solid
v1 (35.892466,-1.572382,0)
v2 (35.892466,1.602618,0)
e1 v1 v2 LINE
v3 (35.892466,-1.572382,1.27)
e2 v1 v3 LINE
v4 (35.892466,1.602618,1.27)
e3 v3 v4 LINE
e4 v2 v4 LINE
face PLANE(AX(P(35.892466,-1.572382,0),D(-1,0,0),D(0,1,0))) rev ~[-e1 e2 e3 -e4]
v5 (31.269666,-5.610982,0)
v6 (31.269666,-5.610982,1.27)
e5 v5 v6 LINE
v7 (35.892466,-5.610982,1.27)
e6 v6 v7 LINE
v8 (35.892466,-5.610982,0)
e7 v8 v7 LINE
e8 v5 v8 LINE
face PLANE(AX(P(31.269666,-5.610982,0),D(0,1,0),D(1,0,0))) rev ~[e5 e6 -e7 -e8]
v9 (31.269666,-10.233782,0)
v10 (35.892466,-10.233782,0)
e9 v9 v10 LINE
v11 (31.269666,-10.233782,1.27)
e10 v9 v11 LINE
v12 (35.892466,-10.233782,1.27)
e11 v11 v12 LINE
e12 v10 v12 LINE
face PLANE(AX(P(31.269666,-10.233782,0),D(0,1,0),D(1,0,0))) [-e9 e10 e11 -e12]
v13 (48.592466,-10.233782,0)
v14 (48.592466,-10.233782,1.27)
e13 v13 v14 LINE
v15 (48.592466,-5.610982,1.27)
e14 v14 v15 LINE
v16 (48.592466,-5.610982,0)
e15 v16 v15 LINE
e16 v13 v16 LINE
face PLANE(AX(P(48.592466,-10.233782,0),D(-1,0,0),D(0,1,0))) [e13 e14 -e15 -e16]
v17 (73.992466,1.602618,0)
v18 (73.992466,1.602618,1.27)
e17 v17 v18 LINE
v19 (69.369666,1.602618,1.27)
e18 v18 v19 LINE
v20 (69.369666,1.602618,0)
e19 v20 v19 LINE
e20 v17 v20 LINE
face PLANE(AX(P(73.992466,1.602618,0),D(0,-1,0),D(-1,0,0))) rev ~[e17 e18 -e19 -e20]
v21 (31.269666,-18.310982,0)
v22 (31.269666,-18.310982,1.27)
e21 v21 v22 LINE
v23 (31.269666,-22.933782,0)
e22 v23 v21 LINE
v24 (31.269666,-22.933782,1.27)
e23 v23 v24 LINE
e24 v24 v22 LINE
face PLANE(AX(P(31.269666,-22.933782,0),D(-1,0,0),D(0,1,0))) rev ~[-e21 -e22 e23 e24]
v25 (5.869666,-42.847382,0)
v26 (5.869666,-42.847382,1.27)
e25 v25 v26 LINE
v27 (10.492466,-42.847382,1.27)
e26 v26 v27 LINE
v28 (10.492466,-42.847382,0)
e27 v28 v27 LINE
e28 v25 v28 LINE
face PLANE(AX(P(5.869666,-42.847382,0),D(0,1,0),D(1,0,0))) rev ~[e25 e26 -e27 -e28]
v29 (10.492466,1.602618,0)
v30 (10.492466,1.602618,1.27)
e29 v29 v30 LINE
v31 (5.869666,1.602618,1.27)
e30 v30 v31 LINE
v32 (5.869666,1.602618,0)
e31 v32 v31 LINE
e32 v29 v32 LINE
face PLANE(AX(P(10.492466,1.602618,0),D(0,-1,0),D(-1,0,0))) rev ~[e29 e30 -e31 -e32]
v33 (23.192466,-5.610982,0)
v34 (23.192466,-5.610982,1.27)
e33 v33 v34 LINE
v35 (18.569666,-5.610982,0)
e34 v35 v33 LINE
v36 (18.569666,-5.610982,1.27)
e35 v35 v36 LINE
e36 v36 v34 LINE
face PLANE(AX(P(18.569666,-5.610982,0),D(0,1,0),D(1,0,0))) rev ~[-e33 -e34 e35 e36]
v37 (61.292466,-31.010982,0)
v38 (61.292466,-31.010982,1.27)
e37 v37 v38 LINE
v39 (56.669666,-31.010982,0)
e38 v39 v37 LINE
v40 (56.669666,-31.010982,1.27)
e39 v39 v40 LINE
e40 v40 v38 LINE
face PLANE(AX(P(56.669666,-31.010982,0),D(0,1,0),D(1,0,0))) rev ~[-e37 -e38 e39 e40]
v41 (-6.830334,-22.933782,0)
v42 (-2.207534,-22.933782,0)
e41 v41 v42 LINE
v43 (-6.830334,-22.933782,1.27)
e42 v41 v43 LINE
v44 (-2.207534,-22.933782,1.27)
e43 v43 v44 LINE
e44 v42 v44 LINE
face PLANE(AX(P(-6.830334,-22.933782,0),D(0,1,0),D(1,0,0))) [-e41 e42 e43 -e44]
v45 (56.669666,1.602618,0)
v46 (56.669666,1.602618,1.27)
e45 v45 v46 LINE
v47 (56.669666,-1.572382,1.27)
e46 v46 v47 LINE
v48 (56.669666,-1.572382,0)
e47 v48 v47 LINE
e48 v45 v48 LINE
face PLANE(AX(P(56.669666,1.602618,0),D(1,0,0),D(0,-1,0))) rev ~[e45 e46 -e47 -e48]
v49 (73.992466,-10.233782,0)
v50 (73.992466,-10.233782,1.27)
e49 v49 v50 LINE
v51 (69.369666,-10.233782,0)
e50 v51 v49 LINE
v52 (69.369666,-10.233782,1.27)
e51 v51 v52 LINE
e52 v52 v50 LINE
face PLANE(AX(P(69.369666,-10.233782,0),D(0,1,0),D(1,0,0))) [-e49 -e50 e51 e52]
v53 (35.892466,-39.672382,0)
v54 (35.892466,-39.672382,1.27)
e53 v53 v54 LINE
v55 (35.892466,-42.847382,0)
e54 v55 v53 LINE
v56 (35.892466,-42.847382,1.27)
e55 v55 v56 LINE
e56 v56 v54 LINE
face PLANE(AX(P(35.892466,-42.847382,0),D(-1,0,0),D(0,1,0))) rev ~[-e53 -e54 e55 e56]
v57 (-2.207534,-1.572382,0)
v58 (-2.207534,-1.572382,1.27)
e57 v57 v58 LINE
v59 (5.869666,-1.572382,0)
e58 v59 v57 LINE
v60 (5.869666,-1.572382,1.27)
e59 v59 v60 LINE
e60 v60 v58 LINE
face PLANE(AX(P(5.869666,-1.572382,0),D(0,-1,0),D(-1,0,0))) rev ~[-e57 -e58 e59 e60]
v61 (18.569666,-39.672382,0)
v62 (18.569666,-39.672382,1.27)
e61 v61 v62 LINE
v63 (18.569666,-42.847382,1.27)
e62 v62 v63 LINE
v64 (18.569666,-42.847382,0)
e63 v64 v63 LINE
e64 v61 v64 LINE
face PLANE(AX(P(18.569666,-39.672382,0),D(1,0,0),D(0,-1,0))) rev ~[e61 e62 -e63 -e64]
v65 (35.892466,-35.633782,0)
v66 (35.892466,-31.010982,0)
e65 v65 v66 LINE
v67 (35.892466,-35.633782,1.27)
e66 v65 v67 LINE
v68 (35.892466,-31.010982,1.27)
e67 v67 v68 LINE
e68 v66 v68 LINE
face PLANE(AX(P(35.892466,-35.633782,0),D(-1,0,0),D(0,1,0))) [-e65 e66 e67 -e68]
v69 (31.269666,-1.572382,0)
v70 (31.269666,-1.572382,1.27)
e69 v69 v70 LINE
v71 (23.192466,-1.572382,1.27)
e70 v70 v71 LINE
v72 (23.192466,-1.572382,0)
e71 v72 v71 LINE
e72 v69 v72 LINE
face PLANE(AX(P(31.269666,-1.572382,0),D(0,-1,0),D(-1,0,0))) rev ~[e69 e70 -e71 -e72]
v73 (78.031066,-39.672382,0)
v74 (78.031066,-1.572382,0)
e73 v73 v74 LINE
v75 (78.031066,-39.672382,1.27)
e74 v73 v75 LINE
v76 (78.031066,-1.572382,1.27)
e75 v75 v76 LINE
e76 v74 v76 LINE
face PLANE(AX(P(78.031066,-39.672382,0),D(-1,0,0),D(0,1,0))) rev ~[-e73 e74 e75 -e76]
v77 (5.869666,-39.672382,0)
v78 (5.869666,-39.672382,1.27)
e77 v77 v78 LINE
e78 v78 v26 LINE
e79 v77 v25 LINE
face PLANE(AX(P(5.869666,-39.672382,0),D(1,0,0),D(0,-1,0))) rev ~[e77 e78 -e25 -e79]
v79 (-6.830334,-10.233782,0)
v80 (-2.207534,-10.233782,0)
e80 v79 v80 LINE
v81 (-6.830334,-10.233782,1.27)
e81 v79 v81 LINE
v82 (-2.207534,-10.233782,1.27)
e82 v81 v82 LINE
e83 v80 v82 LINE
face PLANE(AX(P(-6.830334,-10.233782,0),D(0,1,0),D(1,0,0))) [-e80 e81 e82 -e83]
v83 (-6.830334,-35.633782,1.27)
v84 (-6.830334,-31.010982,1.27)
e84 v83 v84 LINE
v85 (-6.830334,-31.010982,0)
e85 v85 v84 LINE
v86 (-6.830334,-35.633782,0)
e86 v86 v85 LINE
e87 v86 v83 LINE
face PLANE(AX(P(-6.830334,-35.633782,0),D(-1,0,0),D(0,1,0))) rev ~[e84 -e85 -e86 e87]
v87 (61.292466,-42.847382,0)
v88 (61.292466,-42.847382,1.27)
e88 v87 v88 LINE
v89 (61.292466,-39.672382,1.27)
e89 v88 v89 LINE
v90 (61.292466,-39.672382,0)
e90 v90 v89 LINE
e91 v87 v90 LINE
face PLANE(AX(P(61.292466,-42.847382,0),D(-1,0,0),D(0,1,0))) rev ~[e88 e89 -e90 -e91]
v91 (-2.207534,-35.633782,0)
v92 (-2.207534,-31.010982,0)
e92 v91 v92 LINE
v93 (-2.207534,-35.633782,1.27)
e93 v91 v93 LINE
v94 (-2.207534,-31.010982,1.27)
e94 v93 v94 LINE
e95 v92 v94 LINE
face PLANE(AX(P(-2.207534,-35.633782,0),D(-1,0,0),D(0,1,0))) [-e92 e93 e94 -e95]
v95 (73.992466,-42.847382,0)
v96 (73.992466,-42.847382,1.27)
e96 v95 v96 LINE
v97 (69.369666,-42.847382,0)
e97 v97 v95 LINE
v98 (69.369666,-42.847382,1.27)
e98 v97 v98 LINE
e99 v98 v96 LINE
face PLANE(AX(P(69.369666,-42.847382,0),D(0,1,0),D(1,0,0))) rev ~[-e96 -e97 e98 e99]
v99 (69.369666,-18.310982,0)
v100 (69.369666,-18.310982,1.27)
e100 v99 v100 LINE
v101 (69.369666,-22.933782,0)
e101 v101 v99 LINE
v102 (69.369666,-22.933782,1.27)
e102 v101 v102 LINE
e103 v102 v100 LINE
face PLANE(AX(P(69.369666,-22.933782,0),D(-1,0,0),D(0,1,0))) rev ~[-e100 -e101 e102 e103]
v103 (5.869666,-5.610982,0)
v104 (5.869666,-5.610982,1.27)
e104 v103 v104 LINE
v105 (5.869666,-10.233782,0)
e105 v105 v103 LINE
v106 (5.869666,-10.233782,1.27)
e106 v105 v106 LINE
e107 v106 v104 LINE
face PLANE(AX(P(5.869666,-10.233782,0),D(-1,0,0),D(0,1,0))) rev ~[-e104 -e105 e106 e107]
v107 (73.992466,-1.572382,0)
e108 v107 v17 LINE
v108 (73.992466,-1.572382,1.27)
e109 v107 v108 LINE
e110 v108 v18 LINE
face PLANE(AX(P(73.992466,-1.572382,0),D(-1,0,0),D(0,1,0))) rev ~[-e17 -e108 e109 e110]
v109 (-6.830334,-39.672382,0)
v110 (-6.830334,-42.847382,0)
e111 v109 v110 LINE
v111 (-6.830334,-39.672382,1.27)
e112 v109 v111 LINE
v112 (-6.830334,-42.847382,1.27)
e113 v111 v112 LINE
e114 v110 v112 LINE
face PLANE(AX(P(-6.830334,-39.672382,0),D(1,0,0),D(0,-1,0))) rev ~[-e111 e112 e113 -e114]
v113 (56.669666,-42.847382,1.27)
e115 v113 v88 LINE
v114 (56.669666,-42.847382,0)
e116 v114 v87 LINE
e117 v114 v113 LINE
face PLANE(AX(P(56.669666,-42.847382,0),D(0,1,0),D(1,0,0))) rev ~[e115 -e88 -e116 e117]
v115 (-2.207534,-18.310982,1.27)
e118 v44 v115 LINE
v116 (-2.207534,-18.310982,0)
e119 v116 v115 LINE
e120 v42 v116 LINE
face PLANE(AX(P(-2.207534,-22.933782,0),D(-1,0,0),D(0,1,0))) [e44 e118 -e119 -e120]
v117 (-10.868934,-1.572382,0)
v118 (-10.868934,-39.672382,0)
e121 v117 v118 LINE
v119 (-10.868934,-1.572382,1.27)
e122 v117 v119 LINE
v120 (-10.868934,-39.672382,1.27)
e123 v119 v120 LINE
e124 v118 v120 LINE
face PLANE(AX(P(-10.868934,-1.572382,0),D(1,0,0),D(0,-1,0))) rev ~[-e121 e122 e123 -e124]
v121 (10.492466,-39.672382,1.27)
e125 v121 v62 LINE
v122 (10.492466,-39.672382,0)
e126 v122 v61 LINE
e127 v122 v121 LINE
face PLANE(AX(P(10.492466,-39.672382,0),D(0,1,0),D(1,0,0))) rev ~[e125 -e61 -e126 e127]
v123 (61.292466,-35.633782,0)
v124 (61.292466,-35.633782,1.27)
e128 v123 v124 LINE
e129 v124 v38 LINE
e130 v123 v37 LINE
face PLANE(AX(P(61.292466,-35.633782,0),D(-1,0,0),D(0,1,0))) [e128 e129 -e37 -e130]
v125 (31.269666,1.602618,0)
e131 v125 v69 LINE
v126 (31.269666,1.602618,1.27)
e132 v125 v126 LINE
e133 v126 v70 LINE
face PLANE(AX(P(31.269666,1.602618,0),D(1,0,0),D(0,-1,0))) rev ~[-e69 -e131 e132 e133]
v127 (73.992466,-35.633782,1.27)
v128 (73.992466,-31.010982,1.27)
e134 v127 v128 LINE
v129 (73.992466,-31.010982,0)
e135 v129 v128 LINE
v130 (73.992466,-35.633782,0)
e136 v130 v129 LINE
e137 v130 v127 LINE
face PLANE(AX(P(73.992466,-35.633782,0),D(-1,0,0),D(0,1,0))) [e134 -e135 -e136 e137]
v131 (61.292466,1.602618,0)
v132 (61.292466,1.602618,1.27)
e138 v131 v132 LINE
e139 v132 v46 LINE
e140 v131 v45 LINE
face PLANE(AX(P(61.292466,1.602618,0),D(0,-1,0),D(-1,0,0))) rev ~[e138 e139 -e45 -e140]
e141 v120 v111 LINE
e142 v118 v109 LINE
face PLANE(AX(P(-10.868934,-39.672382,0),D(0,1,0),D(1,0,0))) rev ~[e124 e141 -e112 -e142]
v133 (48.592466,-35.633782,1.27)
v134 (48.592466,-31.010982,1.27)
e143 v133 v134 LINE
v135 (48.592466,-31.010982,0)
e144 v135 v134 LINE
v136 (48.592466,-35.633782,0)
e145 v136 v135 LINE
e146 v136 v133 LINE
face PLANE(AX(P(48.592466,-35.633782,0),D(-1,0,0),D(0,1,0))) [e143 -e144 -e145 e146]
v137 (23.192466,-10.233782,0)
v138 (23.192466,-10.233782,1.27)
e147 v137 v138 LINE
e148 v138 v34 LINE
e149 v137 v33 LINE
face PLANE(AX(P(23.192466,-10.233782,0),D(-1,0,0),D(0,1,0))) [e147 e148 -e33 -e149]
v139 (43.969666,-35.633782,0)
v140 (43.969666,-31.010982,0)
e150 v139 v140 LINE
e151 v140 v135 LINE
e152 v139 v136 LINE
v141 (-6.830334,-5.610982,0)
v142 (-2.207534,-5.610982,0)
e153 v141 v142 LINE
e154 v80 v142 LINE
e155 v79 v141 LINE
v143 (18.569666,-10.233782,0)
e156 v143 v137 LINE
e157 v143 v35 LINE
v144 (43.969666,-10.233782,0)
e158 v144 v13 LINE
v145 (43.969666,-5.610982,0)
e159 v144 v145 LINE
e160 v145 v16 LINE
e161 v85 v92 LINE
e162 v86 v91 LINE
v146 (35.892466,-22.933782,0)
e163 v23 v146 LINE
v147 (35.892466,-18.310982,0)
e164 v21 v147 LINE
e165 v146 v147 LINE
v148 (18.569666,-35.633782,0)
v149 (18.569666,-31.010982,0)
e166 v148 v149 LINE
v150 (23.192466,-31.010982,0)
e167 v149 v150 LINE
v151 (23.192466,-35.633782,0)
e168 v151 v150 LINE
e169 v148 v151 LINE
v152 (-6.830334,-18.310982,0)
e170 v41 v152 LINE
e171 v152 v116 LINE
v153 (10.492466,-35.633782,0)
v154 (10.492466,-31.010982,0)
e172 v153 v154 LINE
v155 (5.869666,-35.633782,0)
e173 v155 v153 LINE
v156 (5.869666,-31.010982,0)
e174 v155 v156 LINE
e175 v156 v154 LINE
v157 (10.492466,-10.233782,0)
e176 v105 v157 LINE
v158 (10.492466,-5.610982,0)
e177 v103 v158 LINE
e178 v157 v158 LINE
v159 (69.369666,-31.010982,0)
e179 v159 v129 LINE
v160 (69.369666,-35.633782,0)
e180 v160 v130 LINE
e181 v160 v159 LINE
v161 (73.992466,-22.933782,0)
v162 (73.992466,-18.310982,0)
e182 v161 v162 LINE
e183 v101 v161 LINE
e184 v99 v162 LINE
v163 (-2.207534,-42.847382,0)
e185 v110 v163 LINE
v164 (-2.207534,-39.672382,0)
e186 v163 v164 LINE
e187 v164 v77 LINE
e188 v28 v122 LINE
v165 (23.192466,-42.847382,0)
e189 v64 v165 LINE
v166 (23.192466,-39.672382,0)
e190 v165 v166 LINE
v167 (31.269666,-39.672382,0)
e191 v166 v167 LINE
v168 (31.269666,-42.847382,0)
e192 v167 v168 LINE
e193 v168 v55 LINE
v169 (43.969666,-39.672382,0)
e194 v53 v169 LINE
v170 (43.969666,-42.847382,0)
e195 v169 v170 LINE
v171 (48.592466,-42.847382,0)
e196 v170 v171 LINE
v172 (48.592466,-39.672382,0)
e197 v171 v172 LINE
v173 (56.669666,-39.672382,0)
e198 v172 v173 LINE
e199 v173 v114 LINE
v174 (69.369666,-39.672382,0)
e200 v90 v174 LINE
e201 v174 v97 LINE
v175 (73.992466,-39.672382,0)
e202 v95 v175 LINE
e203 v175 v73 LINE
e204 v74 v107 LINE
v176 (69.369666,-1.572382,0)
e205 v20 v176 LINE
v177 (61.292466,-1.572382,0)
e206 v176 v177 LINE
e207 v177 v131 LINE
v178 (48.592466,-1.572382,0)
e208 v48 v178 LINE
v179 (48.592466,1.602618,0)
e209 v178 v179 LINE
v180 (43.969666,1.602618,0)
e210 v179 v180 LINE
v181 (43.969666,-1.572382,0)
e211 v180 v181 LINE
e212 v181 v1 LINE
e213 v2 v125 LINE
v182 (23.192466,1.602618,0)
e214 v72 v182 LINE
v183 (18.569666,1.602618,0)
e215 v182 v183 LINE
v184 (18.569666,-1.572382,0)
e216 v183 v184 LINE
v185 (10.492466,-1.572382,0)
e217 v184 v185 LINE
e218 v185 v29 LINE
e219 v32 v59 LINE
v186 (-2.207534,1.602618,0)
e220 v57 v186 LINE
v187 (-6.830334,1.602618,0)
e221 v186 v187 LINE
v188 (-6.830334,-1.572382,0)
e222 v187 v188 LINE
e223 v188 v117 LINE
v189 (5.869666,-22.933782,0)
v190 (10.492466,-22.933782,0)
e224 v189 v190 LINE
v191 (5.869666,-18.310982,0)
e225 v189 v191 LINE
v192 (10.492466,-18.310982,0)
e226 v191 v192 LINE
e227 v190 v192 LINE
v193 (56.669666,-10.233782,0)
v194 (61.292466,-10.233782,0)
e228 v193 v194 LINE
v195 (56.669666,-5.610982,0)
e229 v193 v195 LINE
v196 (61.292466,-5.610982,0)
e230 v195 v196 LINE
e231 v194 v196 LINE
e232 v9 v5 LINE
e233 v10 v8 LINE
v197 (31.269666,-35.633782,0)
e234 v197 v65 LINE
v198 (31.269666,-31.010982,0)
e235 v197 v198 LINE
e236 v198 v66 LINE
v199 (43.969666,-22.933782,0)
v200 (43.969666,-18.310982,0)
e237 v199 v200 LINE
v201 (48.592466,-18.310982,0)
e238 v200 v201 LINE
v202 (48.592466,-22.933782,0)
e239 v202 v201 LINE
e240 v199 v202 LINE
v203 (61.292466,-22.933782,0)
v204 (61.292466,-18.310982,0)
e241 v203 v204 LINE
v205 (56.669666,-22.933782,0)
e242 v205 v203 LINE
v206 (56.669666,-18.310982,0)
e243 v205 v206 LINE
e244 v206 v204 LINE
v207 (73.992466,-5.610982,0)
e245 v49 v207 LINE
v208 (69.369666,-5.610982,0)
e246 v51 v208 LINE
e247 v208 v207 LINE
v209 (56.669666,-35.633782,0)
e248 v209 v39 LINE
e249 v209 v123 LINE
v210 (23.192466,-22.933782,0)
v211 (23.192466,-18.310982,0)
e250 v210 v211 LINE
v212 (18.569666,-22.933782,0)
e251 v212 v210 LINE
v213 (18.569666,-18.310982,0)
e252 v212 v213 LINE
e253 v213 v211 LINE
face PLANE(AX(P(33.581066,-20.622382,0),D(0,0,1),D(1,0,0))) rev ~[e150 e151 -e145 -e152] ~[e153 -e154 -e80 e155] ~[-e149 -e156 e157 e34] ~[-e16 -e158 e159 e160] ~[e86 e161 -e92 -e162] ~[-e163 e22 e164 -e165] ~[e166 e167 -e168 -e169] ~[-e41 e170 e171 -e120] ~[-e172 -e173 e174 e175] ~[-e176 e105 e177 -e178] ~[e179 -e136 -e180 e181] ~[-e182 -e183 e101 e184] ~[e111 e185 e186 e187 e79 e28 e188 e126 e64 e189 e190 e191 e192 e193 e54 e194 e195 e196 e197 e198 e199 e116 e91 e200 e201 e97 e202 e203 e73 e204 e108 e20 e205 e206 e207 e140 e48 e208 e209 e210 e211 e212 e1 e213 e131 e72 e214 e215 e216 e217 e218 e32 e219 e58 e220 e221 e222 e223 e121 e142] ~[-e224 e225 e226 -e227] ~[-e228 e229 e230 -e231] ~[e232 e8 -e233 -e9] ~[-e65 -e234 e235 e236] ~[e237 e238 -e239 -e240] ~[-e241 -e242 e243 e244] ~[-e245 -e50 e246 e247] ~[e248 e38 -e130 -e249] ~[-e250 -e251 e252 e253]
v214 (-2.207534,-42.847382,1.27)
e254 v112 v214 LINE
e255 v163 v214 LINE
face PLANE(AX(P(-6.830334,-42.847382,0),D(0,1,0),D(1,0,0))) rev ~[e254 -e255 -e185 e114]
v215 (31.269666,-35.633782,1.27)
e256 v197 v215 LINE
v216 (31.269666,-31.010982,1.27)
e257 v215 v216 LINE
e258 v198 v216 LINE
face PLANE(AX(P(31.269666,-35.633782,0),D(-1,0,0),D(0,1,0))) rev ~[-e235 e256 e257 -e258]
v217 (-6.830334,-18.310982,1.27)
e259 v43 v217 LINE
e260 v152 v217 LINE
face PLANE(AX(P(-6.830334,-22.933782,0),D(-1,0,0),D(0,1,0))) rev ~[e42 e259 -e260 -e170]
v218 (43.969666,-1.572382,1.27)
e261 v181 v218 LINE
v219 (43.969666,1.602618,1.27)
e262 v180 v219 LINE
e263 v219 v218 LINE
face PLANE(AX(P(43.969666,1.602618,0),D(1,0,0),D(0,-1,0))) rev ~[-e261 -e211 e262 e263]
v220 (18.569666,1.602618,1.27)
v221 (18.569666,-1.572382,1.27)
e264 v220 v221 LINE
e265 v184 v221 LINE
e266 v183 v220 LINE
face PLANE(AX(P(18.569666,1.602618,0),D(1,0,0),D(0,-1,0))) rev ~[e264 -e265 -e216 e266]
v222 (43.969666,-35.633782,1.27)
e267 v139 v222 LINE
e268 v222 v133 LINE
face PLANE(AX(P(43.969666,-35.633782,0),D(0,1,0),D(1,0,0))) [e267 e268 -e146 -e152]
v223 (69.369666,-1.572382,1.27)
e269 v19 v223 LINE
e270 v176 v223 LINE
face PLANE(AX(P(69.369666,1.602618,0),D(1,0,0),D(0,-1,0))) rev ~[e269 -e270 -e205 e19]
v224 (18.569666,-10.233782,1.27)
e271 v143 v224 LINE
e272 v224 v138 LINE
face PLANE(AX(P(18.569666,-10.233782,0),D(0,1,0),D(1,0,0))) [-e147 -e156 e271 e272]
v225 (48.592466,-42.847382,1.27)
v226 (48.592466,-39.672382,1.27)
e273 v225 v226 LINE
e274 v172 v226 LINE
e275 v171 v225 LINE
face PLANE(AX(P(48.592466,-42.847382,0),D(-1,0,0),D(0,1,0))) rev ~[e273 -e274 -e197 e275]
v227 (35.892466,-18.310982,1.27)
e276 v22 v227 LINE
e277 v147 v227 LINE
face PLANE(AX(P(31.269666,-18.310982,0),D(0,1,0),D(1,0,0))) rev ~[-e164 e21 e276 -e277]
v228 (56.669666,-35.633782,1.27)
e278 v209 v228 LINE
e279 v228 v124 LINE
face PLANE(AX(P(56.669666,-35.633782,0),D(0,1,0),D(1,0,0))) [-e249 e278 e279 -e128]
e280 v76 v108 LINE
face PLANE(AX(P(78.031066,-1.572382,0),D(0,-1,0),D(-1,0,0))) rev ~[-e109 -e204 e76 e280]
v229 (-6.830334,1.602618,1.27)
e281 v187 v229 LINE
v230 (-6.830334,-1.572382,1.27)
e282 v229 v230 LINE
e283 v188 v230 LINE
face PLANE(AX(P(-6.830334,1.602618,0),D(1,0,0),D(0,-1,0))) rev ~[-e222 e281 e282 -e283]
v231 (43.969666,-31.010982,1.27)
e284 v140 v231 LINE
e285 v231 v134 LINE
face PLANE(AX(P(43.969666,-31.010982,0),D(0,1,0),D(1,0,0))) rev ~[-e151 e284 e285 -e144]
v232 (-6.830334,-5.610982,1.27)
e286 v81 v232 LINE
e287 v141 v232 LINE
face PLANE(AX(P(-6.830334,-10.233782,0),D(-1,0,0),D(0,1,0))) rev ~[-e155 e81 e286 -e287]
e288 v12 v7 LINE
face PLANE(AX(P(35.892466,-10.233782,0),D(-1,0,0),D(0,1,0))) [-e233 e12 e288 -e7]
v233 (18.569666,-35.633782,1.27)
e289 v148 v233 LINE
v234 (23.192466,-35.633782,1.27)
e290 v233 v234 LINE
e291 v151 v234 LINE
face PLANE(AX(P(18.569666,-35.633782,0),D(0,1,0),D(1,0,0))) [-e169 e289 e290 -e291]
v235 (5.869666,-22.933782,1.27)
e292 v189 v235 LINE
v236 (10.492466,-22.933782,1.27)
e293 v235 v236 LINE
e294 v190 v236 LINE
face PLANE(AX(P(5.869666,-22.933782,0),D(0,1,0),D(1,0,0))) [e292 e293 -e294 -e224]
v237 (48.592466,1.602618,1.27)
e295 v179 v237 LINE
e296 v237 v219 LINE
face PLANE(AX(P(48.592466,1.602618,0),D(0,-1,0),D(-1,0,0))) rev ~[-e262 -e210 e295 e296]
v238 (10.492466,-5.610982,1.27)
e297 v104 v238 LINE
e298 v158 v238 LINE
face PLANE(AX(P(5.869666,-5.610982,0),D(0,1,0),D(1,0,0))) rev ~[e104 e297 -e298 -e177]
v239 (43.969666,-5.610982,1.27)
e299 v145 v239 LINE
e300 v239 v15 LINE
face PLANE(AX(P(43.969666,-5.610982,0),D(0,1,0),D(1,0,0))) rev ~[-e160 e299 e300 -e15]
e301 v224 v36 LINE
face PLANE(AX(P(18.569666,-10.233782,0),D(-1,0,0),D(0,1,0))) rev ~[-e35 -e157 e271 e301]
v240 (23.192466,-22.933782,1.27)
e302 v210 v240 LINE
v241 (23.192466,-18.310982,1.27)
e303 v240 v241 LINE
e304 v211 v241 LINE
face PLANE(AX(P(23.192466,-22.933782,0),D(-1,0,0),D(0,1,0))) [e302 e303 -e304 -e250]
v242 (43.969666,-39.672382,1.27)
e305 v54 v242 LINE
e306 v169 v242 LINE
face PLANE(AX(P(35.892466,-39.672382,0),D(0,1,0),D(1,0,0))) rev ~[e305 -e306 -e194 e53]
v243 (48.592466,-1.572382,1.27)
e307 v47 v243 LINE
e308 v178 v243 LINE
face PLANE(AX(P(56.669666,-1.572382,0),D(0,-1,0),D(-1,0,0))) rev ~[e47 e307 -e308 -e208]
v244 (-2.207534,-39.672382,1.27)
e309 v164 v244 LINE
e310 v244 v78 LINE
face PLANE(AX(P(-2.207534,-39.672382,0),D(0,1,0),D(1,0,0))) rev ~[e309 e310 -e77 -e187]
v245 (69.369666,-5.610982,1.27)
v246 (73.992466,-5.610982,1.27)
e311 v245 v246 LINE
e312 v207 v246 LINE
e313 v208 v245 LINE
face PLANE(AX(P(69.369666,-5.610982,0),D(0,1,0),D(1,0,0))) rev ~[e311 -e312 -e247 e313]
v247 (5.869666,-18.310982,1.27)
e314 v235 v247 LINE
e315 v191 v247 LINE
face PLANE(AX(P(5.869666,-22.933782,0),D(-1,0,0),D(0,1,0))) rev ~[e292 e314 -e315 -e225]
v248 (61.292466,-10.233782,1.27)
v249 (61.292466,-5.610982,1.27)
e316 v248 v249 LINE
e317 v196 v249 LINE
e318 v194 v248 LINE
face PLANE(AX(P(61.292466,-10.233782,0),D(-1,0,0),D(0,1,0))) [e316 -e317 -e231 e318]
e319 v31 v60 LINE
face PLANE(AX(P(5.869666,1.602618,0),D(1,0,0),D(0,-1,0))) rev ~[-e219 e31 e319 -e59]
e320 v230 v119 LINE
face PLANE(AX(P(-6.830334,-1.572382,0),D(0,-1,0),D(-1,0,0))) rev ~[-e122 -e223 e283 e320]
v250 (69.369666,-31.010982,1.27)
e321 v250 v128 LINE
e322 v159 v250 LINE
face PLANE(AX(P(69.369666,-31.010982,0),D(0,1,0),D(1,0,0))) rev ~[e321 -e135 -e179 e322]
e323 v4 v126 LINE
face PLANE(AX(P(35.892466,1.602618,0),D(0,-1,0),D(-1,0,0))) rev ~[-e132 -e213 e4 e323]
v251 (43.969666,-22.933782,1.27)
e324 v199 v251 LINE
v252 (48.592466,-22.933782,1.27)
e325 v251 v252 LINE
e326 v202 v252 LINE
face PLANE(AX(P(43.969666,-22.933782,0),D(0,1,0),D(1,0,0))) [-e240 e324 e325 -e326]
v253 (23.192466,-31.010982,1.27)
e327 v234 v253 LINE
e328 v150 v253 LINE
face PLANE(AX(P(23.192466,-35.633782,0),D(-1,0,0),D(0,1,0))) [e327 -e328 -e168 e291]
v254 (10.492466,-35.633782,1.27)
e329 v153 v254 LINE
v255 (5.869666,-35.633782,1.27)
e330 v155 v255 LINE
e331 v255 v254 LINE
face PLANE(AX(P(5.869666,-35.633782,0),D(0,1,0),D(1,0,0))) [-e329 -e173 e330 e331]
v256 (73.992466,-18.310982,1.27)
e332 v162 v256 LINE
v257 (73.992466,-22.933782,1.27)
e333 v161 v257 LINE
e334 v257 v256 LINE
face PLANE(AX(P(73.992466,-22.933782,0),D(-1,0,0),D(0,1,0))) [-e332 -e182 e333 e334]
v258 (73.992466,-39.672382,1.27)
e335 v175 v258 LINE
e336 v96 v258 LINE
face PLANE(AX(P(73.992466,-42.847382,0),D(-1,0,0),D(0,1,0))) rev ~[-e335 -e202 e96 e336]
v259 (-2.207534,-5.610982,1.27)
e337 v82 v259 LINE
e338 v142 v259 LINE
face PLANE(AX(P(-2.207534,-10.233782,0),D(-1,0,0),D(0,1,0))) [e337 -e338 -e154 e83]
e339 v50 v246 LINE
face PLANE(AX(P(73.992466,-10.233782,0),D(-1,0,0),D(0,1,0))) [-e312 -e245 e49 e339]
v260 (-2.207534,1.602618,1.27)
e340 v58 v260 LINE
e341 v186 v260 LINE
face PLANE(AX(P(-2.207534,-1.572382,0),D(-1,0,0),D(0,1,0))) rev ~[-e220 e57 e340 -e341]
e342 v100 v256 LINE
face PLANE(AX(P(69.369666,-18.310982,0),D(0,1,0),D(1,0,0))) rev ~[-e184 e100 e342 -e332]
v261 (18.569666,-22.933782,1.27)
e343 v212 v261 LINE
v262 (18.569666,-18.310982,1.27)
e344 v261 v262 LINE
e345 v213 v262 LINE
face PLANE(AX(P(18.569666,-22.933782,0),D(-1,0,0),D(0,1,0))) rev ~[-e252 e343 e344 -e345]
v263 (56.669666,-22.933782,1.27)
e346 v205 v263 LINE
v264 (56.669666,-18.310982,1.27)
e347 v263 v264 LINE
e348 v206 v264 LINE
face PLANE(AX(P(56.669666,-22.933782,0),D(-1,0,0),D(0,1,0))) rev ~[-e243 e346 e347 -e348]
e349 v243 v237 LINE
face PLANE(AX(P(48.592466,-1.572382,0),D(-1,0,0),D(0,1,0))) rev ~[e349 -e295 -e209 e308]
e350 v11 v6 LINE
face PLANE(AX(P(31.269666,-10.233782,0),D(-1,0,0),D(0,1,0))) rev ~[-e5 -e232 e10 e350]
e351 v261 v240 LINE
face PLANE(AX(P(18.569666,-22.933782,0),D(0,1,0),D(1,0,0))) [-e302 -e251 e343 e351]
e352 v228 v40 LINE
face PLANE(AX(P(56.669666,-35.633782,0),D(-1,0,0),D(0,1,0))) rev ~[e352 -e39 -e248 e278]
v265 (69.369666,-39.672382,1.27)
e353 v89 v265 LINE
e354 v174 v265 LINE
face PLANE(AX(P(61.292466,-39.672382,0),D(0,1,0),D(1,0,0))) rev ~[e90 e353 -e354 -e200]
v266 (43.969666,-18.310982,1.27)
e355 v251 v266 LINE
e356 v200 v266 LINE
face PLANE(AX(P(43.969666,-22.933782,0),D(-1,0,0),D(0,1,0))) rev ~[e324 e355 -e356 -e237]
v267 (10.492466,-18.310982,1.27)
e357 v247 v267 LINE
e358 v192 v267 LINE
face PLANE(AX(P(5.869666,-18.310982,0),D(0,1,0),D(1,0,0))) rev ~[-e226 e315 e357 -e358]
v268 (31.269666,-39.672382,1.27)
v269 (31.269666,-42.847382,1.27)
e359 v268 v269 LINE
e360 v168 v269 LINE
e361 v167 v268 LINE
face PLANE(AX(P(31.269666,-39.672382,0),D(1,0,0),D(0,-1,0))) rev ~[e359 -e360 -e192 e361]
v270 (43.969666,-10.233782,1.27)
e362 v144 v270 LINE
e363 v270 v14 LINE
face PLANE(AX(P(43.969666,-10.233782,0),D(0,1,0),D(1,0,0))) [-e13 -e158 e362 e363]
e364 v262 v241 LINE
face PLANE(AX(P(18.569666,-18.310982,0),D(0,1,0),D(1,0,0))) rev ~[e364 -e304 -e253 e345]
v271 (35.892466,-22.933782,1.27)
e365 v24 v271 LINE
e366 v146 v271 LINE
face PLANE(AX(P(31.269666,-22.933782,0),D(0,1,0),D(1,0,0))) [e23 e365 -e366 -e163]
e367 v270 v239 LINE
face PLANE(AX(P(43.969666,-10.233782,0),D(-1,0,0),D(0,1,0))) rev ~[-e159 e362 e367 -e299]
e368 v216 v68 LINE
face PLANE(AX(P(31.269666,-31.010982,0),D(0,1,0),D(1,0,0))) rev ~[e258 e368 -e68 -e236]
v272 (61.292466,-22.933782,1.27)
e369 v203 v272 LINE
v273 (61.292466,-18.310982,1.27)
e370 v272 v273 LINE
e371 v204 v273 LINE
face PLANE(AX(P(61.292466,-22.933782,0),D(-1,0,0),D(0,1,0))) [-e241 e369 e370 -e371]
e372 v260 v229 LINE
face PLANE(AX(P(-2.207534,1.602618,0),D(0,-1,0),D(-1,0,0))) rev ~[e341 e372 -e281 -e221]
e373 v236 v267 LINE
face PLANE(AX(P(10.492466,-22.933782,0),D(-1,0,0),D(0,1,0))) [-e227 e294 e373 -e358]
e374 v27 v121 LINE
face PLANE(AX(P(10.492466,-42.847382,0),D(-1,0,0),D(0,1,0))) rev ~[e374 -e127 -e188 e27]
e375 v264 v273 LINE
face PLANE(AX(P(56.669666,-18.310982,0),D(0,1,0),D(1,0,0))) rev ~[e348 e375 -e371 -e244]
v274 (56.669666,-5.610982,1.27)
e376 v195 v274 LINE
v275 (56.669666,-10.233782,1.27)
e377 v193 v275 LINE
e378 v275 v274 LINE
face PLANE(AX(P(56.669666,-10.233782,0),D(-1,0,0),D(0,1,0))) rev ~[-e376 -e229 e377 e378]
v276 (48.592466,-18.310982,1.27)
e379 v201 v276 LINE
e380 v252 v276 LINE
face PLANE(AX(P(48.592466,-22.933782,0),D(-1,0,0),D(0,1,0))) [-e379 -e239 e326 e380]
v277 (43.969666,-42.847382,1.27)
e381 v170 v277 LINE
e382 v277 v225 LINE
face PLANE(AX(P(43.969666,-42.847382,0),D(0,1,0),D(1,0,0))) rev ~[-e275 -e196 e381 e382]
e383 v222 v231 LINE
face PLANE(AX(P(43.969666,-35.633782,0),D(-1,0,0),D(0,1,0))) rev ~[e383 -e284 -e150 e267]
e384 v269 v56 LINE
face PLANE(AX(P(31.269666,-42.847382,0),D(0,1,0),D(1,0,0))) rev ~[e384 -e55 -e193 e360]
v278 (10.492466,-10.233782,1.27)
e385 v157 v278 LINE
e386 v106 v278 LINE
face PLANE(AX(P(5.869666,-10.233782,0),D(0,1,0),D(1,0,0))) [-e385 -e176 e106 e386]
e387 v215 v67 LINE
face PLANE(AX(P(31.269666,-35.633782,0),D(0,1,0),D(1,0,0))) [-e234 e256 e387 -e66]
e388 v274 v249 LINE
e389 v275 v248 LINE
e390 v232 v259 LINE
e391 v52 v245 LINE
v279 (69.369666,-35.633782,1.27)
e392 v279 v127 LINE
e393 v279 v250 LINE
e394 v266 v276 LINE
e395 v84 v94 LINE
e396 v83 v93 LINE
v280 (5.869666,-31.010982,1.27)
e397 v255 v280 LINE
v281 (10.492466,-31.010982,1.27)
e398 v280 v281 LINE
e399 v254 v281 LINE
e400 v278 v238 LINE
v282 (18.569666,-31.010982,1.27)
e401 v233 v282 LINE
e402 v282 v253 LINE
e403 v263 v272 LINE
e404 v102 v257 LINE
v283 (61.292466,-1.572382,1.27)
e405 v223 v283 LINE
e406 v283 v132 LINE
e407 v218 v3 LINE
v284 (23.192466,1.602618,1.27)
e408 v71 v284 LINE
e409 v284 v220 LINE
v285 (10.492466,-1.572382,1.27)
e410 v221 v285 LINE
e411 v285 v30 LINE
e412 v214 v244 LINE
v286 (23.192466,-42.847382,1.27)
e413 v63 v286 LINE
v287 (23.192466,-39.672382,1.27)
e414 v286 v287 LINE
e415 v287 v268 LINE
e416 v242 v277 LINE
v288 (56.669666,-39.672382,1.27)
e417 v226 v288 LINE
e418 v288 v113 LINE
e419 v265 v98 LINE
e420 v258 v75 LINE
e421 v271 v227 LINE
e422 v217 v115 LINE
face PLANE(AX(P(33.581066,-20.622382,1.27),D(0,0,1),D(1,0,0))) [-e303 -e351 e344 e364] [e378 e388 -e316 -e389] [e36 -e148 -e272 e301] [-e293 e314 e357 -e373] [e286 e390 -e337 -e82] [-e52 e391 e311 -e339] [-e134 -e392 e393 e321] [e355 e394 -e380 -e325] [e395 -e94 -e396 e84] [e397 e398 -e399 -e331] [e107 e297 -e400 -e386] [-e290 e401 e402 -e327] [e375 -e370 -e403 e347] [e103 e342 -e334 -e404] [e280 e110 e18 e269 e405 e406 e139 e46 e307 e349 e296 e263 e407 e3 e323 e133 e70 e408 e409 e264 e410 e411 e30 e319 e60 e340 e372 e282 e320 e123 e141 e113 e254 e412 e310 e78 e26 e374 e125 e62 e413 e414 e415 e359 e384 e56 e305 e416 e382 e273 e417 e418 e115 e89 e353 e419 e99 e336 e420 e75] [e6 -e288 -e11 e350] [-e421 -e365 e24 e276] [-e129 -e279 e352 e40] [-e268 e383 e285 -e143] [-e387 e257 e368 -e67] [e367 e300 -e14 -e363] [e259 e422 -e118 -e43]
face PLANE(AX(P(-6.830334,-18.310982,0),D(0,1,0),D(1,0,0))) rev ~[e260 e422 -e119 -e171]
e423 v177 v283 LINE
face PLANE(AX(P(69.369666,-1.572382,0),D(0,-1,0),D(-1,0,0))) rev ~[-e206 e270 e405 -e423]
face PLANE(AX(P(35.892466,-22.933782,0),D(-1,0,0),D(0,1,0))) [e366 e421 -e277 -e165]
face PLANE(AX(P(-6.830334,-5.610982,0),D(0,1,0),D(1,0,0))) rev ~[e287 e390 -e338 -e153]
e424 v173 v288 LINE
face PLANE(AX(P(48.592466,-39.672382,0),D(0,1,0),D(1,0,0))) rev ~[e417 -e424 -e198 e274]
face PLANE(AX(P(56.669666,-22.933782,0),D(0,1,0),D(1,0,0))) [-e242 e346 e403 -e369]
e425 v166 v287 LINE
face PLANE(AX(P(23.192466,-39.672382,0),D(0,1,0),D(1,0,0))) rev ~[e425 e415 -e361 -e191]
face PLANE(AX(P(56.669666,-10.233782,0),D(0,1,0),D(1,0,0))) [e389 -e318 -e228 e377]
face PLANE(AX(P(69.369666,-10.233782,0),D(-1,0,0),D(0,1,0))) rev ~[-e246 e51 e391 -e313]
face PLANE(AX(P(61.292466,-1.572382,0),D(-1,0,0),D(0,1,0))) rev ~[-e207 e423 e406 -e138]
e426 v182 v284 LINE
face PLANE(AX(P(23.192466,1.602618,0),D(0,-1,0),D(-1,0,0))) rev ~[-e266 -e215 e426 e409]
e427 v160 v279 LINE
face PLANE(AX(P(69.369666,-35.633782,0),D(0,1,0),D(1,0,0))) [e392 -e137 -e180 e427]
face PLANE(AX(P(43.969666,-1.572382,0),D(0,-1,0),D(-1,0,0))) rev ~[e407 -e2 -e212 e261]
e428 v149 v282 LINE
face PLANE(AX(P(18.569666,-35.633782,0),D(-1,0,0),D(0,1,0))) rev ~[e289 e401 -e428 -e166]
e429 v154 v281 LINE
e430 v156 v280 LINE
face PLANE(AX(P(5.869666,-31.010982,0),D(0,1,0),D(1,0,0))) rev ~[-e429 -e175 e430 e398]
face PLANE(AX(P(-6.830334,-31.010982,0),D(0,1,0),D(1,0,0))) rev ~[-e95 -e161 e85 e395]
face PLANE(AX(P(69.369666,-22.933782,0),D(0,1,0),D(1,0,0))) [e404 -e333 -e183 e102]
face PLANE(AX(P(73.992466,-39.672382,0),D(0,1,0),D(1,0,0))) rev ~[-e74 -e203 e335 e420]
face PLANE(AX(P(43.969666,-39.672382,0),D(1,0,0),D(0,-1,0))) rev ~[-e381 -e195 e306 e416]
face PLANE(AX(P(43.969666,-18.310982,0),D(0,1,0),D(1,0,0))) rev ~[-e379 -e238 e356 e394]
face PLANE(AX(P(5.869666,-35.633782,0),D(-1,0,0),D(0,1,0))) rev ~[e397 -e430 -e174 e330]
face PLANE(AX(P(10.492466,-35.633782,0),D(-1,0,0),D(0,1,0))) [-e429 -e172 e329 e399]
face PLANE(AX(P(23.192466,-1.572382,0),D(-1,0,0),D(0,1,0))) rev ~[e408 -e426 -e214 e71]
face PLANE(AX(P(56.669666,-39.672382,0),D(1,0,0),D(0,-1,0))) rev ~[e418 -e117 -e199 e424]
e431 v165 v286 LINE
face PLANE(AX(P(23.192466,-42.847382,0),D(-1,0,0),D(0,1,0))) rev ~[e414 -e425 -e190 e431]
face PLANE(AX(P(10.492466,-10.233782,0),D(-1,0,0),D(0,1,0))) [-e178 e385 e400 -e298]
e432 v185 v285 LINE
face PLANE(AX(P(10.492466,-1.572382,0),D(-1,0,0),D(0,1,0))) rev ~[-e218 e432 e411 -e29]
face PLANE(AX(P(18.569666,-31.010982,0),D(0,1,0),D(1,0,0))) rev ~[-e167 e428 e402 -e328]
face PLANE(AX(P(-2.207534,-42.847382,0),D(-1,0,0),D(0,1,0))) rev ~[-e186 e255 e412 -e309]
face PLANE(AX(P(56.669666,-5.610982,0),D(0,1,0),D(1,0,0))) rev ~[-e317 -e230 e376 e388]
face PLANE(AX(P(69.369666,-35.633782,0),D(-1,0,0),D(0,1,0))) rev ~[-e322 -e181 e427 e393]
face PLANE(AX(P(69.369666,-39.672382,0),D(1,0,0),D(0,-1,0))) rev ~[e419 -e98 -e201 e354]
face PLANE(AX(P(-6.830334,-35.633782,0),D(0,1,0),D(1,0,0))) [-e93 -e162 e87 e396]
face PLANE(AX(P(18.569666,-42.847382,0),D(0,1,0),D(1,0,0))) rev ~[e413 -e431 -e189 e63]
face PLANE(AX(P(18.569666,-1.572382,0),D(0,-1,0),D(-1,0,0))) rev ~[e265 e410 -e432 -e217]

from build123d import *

# Parameters (mm, degrees)
F0_W     = 4.6228
F0_H     = 4.6228
F1_DEPTH = 1.27


with BuildPart() as f1:
    # F0 (on Top) → F1 (new body)
    with BuildSketch(Plane.XY):
        Polygon((78.031066, -39.672382), (78.031066, -1.572382), (73.992466, -1.572382), (73.992466, 1.602618), (69.369666, 1.602618), (69.369666, -1.572382), (61.292466, -1.572382), (61.292466, 1.602618), (56.669666, 1.602618), (56.669666, -1.572382), (48.592466, -1.572382), (48.592466, 1.602618), (43.969666, 1.602618), (43.969666, -1.572382), (35.892466, -1.572382), (35.892466, 1.602618), (31.269666, 1.602618), (31.269666, -1.572382), (23.192466, -1.572382), (23.192466, 1.602618), (18.569666, 1.602618), (18.569666, -1.572382), (10.492466, -1.572382), (10.492466, 1.602618), (5.869666, 1.602618), (5.869666, -1.572382), (-2.207534, -1.572382), (-2.207534, 1.602618), (-6.830334, 1.602618), (-6.830334, -1.572382), (-10.868934, -1.572382), (-10.868934, -33.322382), (-10.868934, -39.672382), (-6.830334, -39.672382), (-6.830334, -42.847382), (-2.207534, -42.847382), (-2.207534, -39.672382), (5.869666, -39.672382), (5.869666, -42.847382), (10.492466, -42.847382), (10.492466, -39.672382), (18.569666, -39.672382), (18.569666, -42.847382), (23.192466, -42.847382), (23.192466, -39.672382), (31.269666, -39.672382), (31.269666, -42.847382), (35.892466, -42.847382), (35.892466, -39.672382), (43.969666, -39.672382), (43.969666, -42.847382), (48.592466, -42.847382), (48.592466, -39.672382), (56.669666, -39.672382), (56.669666, -42.847382), (61.292466, -42.847382), (61.292466, -39.672382), (69.369666, -39.672382), (69.369666, -42.847382), (73.992466, -42.847382), (73.992466, -39.672382), align=None)
        with Locations((-4.518934, -33.322382)):
            Rectangle(F0_W, F0_H, mode=Mode.SUBTRACT)
        with Locations((8.181066, -33.322382)):
            Rectangle(F0_W, F0_H, mode=Mode.SUBTRACT)
        with Locations((20.881066, -33.322382)):
            Rectangle(F0_W, F0_H, mode=Mode.SUBTRACT)
        with Locations((33.581066, -33.322382)):
            Rectangle(F0_W, F0_H, mode=Mode.SUBTRACT)
        with Locations((46.281066, -33.322382)):
            Rectangle(F0_W, F0_H, mode=Mode.SUBTRACT)
        with Locations((58.981066, -33.322382)):
            Rectangle(F0_W, F0_H, mode=Mode.SUBTRACT)
        with Locations((71.681066, -33.322382)):
            Rectangle(F0_W, F0_H, mode=Mode.SUBTRACT)
        with Locations((-4.518934, -20.622382)):
            Rectangle(F0_W, F0_H, mode=Mode.SUBTRACT)
        with Locations((8.181066, -20.622382)):
            Rectangle(F0_W, F0_H, mode=Mode.SUBTRACT)
        with Locations((20.881066, -20.622382)):
            Rectangle(F0_W, F0_H, mode=Mode.SUBTRACT)
        with Locations((-4.518934, -7.922382)):
            Rectangle(F0_W, F0_H, mode=Mode.SUBTRACT)
        with Locations((8.181066, -7.922382)):
            Rectangle(F0_W, F0_H, mode=Mode.SUBTRACT)
        with Locations((20.881066, -7.922382)):
            Rectangle(F0_W, F0_H, mode=Mode.SUBTRACT)
        with Locations((33.581066, -20.622382)):
            Rectangle(F0_W, F0_H, mode=Mode.SUBTRACT)
        with Locations((46.281066, -20.622382)):
            Rectangle(F0_W, F0_H, mode=Mode.SUBTRACT)
        with Locations((58.981066, -20.622382)):
            Rectangle(F0_W, F0_H, mode=Mode.SUBTRACT)
        with Locations((71.681066, -20.622382)):
            Rectangle(F0_W, F0_H, mode=Mode.SUBTRACT)
        with Locations((33.581066, -7.922382)):
            Rectangle(F0_W, F0_H, mode=Mode.SUBTRACT)
        with Locations((46.281066, -7.922382)):
            Rectangle(F0_W, F0_H, mode=Mode.SUBTRACT)
        with Locations((58.981066, -7.922382)):
            Rectangle(F0_W, F0_H, mode=Mode.SUBTRACT)
        with Locations((71.681066, -7.922382)):
            Rectangle(F0_W, F0_H, mode=Mode.SUBTRACT)
    extrude(amount=F1_DEPTH)


solid = f1.part
